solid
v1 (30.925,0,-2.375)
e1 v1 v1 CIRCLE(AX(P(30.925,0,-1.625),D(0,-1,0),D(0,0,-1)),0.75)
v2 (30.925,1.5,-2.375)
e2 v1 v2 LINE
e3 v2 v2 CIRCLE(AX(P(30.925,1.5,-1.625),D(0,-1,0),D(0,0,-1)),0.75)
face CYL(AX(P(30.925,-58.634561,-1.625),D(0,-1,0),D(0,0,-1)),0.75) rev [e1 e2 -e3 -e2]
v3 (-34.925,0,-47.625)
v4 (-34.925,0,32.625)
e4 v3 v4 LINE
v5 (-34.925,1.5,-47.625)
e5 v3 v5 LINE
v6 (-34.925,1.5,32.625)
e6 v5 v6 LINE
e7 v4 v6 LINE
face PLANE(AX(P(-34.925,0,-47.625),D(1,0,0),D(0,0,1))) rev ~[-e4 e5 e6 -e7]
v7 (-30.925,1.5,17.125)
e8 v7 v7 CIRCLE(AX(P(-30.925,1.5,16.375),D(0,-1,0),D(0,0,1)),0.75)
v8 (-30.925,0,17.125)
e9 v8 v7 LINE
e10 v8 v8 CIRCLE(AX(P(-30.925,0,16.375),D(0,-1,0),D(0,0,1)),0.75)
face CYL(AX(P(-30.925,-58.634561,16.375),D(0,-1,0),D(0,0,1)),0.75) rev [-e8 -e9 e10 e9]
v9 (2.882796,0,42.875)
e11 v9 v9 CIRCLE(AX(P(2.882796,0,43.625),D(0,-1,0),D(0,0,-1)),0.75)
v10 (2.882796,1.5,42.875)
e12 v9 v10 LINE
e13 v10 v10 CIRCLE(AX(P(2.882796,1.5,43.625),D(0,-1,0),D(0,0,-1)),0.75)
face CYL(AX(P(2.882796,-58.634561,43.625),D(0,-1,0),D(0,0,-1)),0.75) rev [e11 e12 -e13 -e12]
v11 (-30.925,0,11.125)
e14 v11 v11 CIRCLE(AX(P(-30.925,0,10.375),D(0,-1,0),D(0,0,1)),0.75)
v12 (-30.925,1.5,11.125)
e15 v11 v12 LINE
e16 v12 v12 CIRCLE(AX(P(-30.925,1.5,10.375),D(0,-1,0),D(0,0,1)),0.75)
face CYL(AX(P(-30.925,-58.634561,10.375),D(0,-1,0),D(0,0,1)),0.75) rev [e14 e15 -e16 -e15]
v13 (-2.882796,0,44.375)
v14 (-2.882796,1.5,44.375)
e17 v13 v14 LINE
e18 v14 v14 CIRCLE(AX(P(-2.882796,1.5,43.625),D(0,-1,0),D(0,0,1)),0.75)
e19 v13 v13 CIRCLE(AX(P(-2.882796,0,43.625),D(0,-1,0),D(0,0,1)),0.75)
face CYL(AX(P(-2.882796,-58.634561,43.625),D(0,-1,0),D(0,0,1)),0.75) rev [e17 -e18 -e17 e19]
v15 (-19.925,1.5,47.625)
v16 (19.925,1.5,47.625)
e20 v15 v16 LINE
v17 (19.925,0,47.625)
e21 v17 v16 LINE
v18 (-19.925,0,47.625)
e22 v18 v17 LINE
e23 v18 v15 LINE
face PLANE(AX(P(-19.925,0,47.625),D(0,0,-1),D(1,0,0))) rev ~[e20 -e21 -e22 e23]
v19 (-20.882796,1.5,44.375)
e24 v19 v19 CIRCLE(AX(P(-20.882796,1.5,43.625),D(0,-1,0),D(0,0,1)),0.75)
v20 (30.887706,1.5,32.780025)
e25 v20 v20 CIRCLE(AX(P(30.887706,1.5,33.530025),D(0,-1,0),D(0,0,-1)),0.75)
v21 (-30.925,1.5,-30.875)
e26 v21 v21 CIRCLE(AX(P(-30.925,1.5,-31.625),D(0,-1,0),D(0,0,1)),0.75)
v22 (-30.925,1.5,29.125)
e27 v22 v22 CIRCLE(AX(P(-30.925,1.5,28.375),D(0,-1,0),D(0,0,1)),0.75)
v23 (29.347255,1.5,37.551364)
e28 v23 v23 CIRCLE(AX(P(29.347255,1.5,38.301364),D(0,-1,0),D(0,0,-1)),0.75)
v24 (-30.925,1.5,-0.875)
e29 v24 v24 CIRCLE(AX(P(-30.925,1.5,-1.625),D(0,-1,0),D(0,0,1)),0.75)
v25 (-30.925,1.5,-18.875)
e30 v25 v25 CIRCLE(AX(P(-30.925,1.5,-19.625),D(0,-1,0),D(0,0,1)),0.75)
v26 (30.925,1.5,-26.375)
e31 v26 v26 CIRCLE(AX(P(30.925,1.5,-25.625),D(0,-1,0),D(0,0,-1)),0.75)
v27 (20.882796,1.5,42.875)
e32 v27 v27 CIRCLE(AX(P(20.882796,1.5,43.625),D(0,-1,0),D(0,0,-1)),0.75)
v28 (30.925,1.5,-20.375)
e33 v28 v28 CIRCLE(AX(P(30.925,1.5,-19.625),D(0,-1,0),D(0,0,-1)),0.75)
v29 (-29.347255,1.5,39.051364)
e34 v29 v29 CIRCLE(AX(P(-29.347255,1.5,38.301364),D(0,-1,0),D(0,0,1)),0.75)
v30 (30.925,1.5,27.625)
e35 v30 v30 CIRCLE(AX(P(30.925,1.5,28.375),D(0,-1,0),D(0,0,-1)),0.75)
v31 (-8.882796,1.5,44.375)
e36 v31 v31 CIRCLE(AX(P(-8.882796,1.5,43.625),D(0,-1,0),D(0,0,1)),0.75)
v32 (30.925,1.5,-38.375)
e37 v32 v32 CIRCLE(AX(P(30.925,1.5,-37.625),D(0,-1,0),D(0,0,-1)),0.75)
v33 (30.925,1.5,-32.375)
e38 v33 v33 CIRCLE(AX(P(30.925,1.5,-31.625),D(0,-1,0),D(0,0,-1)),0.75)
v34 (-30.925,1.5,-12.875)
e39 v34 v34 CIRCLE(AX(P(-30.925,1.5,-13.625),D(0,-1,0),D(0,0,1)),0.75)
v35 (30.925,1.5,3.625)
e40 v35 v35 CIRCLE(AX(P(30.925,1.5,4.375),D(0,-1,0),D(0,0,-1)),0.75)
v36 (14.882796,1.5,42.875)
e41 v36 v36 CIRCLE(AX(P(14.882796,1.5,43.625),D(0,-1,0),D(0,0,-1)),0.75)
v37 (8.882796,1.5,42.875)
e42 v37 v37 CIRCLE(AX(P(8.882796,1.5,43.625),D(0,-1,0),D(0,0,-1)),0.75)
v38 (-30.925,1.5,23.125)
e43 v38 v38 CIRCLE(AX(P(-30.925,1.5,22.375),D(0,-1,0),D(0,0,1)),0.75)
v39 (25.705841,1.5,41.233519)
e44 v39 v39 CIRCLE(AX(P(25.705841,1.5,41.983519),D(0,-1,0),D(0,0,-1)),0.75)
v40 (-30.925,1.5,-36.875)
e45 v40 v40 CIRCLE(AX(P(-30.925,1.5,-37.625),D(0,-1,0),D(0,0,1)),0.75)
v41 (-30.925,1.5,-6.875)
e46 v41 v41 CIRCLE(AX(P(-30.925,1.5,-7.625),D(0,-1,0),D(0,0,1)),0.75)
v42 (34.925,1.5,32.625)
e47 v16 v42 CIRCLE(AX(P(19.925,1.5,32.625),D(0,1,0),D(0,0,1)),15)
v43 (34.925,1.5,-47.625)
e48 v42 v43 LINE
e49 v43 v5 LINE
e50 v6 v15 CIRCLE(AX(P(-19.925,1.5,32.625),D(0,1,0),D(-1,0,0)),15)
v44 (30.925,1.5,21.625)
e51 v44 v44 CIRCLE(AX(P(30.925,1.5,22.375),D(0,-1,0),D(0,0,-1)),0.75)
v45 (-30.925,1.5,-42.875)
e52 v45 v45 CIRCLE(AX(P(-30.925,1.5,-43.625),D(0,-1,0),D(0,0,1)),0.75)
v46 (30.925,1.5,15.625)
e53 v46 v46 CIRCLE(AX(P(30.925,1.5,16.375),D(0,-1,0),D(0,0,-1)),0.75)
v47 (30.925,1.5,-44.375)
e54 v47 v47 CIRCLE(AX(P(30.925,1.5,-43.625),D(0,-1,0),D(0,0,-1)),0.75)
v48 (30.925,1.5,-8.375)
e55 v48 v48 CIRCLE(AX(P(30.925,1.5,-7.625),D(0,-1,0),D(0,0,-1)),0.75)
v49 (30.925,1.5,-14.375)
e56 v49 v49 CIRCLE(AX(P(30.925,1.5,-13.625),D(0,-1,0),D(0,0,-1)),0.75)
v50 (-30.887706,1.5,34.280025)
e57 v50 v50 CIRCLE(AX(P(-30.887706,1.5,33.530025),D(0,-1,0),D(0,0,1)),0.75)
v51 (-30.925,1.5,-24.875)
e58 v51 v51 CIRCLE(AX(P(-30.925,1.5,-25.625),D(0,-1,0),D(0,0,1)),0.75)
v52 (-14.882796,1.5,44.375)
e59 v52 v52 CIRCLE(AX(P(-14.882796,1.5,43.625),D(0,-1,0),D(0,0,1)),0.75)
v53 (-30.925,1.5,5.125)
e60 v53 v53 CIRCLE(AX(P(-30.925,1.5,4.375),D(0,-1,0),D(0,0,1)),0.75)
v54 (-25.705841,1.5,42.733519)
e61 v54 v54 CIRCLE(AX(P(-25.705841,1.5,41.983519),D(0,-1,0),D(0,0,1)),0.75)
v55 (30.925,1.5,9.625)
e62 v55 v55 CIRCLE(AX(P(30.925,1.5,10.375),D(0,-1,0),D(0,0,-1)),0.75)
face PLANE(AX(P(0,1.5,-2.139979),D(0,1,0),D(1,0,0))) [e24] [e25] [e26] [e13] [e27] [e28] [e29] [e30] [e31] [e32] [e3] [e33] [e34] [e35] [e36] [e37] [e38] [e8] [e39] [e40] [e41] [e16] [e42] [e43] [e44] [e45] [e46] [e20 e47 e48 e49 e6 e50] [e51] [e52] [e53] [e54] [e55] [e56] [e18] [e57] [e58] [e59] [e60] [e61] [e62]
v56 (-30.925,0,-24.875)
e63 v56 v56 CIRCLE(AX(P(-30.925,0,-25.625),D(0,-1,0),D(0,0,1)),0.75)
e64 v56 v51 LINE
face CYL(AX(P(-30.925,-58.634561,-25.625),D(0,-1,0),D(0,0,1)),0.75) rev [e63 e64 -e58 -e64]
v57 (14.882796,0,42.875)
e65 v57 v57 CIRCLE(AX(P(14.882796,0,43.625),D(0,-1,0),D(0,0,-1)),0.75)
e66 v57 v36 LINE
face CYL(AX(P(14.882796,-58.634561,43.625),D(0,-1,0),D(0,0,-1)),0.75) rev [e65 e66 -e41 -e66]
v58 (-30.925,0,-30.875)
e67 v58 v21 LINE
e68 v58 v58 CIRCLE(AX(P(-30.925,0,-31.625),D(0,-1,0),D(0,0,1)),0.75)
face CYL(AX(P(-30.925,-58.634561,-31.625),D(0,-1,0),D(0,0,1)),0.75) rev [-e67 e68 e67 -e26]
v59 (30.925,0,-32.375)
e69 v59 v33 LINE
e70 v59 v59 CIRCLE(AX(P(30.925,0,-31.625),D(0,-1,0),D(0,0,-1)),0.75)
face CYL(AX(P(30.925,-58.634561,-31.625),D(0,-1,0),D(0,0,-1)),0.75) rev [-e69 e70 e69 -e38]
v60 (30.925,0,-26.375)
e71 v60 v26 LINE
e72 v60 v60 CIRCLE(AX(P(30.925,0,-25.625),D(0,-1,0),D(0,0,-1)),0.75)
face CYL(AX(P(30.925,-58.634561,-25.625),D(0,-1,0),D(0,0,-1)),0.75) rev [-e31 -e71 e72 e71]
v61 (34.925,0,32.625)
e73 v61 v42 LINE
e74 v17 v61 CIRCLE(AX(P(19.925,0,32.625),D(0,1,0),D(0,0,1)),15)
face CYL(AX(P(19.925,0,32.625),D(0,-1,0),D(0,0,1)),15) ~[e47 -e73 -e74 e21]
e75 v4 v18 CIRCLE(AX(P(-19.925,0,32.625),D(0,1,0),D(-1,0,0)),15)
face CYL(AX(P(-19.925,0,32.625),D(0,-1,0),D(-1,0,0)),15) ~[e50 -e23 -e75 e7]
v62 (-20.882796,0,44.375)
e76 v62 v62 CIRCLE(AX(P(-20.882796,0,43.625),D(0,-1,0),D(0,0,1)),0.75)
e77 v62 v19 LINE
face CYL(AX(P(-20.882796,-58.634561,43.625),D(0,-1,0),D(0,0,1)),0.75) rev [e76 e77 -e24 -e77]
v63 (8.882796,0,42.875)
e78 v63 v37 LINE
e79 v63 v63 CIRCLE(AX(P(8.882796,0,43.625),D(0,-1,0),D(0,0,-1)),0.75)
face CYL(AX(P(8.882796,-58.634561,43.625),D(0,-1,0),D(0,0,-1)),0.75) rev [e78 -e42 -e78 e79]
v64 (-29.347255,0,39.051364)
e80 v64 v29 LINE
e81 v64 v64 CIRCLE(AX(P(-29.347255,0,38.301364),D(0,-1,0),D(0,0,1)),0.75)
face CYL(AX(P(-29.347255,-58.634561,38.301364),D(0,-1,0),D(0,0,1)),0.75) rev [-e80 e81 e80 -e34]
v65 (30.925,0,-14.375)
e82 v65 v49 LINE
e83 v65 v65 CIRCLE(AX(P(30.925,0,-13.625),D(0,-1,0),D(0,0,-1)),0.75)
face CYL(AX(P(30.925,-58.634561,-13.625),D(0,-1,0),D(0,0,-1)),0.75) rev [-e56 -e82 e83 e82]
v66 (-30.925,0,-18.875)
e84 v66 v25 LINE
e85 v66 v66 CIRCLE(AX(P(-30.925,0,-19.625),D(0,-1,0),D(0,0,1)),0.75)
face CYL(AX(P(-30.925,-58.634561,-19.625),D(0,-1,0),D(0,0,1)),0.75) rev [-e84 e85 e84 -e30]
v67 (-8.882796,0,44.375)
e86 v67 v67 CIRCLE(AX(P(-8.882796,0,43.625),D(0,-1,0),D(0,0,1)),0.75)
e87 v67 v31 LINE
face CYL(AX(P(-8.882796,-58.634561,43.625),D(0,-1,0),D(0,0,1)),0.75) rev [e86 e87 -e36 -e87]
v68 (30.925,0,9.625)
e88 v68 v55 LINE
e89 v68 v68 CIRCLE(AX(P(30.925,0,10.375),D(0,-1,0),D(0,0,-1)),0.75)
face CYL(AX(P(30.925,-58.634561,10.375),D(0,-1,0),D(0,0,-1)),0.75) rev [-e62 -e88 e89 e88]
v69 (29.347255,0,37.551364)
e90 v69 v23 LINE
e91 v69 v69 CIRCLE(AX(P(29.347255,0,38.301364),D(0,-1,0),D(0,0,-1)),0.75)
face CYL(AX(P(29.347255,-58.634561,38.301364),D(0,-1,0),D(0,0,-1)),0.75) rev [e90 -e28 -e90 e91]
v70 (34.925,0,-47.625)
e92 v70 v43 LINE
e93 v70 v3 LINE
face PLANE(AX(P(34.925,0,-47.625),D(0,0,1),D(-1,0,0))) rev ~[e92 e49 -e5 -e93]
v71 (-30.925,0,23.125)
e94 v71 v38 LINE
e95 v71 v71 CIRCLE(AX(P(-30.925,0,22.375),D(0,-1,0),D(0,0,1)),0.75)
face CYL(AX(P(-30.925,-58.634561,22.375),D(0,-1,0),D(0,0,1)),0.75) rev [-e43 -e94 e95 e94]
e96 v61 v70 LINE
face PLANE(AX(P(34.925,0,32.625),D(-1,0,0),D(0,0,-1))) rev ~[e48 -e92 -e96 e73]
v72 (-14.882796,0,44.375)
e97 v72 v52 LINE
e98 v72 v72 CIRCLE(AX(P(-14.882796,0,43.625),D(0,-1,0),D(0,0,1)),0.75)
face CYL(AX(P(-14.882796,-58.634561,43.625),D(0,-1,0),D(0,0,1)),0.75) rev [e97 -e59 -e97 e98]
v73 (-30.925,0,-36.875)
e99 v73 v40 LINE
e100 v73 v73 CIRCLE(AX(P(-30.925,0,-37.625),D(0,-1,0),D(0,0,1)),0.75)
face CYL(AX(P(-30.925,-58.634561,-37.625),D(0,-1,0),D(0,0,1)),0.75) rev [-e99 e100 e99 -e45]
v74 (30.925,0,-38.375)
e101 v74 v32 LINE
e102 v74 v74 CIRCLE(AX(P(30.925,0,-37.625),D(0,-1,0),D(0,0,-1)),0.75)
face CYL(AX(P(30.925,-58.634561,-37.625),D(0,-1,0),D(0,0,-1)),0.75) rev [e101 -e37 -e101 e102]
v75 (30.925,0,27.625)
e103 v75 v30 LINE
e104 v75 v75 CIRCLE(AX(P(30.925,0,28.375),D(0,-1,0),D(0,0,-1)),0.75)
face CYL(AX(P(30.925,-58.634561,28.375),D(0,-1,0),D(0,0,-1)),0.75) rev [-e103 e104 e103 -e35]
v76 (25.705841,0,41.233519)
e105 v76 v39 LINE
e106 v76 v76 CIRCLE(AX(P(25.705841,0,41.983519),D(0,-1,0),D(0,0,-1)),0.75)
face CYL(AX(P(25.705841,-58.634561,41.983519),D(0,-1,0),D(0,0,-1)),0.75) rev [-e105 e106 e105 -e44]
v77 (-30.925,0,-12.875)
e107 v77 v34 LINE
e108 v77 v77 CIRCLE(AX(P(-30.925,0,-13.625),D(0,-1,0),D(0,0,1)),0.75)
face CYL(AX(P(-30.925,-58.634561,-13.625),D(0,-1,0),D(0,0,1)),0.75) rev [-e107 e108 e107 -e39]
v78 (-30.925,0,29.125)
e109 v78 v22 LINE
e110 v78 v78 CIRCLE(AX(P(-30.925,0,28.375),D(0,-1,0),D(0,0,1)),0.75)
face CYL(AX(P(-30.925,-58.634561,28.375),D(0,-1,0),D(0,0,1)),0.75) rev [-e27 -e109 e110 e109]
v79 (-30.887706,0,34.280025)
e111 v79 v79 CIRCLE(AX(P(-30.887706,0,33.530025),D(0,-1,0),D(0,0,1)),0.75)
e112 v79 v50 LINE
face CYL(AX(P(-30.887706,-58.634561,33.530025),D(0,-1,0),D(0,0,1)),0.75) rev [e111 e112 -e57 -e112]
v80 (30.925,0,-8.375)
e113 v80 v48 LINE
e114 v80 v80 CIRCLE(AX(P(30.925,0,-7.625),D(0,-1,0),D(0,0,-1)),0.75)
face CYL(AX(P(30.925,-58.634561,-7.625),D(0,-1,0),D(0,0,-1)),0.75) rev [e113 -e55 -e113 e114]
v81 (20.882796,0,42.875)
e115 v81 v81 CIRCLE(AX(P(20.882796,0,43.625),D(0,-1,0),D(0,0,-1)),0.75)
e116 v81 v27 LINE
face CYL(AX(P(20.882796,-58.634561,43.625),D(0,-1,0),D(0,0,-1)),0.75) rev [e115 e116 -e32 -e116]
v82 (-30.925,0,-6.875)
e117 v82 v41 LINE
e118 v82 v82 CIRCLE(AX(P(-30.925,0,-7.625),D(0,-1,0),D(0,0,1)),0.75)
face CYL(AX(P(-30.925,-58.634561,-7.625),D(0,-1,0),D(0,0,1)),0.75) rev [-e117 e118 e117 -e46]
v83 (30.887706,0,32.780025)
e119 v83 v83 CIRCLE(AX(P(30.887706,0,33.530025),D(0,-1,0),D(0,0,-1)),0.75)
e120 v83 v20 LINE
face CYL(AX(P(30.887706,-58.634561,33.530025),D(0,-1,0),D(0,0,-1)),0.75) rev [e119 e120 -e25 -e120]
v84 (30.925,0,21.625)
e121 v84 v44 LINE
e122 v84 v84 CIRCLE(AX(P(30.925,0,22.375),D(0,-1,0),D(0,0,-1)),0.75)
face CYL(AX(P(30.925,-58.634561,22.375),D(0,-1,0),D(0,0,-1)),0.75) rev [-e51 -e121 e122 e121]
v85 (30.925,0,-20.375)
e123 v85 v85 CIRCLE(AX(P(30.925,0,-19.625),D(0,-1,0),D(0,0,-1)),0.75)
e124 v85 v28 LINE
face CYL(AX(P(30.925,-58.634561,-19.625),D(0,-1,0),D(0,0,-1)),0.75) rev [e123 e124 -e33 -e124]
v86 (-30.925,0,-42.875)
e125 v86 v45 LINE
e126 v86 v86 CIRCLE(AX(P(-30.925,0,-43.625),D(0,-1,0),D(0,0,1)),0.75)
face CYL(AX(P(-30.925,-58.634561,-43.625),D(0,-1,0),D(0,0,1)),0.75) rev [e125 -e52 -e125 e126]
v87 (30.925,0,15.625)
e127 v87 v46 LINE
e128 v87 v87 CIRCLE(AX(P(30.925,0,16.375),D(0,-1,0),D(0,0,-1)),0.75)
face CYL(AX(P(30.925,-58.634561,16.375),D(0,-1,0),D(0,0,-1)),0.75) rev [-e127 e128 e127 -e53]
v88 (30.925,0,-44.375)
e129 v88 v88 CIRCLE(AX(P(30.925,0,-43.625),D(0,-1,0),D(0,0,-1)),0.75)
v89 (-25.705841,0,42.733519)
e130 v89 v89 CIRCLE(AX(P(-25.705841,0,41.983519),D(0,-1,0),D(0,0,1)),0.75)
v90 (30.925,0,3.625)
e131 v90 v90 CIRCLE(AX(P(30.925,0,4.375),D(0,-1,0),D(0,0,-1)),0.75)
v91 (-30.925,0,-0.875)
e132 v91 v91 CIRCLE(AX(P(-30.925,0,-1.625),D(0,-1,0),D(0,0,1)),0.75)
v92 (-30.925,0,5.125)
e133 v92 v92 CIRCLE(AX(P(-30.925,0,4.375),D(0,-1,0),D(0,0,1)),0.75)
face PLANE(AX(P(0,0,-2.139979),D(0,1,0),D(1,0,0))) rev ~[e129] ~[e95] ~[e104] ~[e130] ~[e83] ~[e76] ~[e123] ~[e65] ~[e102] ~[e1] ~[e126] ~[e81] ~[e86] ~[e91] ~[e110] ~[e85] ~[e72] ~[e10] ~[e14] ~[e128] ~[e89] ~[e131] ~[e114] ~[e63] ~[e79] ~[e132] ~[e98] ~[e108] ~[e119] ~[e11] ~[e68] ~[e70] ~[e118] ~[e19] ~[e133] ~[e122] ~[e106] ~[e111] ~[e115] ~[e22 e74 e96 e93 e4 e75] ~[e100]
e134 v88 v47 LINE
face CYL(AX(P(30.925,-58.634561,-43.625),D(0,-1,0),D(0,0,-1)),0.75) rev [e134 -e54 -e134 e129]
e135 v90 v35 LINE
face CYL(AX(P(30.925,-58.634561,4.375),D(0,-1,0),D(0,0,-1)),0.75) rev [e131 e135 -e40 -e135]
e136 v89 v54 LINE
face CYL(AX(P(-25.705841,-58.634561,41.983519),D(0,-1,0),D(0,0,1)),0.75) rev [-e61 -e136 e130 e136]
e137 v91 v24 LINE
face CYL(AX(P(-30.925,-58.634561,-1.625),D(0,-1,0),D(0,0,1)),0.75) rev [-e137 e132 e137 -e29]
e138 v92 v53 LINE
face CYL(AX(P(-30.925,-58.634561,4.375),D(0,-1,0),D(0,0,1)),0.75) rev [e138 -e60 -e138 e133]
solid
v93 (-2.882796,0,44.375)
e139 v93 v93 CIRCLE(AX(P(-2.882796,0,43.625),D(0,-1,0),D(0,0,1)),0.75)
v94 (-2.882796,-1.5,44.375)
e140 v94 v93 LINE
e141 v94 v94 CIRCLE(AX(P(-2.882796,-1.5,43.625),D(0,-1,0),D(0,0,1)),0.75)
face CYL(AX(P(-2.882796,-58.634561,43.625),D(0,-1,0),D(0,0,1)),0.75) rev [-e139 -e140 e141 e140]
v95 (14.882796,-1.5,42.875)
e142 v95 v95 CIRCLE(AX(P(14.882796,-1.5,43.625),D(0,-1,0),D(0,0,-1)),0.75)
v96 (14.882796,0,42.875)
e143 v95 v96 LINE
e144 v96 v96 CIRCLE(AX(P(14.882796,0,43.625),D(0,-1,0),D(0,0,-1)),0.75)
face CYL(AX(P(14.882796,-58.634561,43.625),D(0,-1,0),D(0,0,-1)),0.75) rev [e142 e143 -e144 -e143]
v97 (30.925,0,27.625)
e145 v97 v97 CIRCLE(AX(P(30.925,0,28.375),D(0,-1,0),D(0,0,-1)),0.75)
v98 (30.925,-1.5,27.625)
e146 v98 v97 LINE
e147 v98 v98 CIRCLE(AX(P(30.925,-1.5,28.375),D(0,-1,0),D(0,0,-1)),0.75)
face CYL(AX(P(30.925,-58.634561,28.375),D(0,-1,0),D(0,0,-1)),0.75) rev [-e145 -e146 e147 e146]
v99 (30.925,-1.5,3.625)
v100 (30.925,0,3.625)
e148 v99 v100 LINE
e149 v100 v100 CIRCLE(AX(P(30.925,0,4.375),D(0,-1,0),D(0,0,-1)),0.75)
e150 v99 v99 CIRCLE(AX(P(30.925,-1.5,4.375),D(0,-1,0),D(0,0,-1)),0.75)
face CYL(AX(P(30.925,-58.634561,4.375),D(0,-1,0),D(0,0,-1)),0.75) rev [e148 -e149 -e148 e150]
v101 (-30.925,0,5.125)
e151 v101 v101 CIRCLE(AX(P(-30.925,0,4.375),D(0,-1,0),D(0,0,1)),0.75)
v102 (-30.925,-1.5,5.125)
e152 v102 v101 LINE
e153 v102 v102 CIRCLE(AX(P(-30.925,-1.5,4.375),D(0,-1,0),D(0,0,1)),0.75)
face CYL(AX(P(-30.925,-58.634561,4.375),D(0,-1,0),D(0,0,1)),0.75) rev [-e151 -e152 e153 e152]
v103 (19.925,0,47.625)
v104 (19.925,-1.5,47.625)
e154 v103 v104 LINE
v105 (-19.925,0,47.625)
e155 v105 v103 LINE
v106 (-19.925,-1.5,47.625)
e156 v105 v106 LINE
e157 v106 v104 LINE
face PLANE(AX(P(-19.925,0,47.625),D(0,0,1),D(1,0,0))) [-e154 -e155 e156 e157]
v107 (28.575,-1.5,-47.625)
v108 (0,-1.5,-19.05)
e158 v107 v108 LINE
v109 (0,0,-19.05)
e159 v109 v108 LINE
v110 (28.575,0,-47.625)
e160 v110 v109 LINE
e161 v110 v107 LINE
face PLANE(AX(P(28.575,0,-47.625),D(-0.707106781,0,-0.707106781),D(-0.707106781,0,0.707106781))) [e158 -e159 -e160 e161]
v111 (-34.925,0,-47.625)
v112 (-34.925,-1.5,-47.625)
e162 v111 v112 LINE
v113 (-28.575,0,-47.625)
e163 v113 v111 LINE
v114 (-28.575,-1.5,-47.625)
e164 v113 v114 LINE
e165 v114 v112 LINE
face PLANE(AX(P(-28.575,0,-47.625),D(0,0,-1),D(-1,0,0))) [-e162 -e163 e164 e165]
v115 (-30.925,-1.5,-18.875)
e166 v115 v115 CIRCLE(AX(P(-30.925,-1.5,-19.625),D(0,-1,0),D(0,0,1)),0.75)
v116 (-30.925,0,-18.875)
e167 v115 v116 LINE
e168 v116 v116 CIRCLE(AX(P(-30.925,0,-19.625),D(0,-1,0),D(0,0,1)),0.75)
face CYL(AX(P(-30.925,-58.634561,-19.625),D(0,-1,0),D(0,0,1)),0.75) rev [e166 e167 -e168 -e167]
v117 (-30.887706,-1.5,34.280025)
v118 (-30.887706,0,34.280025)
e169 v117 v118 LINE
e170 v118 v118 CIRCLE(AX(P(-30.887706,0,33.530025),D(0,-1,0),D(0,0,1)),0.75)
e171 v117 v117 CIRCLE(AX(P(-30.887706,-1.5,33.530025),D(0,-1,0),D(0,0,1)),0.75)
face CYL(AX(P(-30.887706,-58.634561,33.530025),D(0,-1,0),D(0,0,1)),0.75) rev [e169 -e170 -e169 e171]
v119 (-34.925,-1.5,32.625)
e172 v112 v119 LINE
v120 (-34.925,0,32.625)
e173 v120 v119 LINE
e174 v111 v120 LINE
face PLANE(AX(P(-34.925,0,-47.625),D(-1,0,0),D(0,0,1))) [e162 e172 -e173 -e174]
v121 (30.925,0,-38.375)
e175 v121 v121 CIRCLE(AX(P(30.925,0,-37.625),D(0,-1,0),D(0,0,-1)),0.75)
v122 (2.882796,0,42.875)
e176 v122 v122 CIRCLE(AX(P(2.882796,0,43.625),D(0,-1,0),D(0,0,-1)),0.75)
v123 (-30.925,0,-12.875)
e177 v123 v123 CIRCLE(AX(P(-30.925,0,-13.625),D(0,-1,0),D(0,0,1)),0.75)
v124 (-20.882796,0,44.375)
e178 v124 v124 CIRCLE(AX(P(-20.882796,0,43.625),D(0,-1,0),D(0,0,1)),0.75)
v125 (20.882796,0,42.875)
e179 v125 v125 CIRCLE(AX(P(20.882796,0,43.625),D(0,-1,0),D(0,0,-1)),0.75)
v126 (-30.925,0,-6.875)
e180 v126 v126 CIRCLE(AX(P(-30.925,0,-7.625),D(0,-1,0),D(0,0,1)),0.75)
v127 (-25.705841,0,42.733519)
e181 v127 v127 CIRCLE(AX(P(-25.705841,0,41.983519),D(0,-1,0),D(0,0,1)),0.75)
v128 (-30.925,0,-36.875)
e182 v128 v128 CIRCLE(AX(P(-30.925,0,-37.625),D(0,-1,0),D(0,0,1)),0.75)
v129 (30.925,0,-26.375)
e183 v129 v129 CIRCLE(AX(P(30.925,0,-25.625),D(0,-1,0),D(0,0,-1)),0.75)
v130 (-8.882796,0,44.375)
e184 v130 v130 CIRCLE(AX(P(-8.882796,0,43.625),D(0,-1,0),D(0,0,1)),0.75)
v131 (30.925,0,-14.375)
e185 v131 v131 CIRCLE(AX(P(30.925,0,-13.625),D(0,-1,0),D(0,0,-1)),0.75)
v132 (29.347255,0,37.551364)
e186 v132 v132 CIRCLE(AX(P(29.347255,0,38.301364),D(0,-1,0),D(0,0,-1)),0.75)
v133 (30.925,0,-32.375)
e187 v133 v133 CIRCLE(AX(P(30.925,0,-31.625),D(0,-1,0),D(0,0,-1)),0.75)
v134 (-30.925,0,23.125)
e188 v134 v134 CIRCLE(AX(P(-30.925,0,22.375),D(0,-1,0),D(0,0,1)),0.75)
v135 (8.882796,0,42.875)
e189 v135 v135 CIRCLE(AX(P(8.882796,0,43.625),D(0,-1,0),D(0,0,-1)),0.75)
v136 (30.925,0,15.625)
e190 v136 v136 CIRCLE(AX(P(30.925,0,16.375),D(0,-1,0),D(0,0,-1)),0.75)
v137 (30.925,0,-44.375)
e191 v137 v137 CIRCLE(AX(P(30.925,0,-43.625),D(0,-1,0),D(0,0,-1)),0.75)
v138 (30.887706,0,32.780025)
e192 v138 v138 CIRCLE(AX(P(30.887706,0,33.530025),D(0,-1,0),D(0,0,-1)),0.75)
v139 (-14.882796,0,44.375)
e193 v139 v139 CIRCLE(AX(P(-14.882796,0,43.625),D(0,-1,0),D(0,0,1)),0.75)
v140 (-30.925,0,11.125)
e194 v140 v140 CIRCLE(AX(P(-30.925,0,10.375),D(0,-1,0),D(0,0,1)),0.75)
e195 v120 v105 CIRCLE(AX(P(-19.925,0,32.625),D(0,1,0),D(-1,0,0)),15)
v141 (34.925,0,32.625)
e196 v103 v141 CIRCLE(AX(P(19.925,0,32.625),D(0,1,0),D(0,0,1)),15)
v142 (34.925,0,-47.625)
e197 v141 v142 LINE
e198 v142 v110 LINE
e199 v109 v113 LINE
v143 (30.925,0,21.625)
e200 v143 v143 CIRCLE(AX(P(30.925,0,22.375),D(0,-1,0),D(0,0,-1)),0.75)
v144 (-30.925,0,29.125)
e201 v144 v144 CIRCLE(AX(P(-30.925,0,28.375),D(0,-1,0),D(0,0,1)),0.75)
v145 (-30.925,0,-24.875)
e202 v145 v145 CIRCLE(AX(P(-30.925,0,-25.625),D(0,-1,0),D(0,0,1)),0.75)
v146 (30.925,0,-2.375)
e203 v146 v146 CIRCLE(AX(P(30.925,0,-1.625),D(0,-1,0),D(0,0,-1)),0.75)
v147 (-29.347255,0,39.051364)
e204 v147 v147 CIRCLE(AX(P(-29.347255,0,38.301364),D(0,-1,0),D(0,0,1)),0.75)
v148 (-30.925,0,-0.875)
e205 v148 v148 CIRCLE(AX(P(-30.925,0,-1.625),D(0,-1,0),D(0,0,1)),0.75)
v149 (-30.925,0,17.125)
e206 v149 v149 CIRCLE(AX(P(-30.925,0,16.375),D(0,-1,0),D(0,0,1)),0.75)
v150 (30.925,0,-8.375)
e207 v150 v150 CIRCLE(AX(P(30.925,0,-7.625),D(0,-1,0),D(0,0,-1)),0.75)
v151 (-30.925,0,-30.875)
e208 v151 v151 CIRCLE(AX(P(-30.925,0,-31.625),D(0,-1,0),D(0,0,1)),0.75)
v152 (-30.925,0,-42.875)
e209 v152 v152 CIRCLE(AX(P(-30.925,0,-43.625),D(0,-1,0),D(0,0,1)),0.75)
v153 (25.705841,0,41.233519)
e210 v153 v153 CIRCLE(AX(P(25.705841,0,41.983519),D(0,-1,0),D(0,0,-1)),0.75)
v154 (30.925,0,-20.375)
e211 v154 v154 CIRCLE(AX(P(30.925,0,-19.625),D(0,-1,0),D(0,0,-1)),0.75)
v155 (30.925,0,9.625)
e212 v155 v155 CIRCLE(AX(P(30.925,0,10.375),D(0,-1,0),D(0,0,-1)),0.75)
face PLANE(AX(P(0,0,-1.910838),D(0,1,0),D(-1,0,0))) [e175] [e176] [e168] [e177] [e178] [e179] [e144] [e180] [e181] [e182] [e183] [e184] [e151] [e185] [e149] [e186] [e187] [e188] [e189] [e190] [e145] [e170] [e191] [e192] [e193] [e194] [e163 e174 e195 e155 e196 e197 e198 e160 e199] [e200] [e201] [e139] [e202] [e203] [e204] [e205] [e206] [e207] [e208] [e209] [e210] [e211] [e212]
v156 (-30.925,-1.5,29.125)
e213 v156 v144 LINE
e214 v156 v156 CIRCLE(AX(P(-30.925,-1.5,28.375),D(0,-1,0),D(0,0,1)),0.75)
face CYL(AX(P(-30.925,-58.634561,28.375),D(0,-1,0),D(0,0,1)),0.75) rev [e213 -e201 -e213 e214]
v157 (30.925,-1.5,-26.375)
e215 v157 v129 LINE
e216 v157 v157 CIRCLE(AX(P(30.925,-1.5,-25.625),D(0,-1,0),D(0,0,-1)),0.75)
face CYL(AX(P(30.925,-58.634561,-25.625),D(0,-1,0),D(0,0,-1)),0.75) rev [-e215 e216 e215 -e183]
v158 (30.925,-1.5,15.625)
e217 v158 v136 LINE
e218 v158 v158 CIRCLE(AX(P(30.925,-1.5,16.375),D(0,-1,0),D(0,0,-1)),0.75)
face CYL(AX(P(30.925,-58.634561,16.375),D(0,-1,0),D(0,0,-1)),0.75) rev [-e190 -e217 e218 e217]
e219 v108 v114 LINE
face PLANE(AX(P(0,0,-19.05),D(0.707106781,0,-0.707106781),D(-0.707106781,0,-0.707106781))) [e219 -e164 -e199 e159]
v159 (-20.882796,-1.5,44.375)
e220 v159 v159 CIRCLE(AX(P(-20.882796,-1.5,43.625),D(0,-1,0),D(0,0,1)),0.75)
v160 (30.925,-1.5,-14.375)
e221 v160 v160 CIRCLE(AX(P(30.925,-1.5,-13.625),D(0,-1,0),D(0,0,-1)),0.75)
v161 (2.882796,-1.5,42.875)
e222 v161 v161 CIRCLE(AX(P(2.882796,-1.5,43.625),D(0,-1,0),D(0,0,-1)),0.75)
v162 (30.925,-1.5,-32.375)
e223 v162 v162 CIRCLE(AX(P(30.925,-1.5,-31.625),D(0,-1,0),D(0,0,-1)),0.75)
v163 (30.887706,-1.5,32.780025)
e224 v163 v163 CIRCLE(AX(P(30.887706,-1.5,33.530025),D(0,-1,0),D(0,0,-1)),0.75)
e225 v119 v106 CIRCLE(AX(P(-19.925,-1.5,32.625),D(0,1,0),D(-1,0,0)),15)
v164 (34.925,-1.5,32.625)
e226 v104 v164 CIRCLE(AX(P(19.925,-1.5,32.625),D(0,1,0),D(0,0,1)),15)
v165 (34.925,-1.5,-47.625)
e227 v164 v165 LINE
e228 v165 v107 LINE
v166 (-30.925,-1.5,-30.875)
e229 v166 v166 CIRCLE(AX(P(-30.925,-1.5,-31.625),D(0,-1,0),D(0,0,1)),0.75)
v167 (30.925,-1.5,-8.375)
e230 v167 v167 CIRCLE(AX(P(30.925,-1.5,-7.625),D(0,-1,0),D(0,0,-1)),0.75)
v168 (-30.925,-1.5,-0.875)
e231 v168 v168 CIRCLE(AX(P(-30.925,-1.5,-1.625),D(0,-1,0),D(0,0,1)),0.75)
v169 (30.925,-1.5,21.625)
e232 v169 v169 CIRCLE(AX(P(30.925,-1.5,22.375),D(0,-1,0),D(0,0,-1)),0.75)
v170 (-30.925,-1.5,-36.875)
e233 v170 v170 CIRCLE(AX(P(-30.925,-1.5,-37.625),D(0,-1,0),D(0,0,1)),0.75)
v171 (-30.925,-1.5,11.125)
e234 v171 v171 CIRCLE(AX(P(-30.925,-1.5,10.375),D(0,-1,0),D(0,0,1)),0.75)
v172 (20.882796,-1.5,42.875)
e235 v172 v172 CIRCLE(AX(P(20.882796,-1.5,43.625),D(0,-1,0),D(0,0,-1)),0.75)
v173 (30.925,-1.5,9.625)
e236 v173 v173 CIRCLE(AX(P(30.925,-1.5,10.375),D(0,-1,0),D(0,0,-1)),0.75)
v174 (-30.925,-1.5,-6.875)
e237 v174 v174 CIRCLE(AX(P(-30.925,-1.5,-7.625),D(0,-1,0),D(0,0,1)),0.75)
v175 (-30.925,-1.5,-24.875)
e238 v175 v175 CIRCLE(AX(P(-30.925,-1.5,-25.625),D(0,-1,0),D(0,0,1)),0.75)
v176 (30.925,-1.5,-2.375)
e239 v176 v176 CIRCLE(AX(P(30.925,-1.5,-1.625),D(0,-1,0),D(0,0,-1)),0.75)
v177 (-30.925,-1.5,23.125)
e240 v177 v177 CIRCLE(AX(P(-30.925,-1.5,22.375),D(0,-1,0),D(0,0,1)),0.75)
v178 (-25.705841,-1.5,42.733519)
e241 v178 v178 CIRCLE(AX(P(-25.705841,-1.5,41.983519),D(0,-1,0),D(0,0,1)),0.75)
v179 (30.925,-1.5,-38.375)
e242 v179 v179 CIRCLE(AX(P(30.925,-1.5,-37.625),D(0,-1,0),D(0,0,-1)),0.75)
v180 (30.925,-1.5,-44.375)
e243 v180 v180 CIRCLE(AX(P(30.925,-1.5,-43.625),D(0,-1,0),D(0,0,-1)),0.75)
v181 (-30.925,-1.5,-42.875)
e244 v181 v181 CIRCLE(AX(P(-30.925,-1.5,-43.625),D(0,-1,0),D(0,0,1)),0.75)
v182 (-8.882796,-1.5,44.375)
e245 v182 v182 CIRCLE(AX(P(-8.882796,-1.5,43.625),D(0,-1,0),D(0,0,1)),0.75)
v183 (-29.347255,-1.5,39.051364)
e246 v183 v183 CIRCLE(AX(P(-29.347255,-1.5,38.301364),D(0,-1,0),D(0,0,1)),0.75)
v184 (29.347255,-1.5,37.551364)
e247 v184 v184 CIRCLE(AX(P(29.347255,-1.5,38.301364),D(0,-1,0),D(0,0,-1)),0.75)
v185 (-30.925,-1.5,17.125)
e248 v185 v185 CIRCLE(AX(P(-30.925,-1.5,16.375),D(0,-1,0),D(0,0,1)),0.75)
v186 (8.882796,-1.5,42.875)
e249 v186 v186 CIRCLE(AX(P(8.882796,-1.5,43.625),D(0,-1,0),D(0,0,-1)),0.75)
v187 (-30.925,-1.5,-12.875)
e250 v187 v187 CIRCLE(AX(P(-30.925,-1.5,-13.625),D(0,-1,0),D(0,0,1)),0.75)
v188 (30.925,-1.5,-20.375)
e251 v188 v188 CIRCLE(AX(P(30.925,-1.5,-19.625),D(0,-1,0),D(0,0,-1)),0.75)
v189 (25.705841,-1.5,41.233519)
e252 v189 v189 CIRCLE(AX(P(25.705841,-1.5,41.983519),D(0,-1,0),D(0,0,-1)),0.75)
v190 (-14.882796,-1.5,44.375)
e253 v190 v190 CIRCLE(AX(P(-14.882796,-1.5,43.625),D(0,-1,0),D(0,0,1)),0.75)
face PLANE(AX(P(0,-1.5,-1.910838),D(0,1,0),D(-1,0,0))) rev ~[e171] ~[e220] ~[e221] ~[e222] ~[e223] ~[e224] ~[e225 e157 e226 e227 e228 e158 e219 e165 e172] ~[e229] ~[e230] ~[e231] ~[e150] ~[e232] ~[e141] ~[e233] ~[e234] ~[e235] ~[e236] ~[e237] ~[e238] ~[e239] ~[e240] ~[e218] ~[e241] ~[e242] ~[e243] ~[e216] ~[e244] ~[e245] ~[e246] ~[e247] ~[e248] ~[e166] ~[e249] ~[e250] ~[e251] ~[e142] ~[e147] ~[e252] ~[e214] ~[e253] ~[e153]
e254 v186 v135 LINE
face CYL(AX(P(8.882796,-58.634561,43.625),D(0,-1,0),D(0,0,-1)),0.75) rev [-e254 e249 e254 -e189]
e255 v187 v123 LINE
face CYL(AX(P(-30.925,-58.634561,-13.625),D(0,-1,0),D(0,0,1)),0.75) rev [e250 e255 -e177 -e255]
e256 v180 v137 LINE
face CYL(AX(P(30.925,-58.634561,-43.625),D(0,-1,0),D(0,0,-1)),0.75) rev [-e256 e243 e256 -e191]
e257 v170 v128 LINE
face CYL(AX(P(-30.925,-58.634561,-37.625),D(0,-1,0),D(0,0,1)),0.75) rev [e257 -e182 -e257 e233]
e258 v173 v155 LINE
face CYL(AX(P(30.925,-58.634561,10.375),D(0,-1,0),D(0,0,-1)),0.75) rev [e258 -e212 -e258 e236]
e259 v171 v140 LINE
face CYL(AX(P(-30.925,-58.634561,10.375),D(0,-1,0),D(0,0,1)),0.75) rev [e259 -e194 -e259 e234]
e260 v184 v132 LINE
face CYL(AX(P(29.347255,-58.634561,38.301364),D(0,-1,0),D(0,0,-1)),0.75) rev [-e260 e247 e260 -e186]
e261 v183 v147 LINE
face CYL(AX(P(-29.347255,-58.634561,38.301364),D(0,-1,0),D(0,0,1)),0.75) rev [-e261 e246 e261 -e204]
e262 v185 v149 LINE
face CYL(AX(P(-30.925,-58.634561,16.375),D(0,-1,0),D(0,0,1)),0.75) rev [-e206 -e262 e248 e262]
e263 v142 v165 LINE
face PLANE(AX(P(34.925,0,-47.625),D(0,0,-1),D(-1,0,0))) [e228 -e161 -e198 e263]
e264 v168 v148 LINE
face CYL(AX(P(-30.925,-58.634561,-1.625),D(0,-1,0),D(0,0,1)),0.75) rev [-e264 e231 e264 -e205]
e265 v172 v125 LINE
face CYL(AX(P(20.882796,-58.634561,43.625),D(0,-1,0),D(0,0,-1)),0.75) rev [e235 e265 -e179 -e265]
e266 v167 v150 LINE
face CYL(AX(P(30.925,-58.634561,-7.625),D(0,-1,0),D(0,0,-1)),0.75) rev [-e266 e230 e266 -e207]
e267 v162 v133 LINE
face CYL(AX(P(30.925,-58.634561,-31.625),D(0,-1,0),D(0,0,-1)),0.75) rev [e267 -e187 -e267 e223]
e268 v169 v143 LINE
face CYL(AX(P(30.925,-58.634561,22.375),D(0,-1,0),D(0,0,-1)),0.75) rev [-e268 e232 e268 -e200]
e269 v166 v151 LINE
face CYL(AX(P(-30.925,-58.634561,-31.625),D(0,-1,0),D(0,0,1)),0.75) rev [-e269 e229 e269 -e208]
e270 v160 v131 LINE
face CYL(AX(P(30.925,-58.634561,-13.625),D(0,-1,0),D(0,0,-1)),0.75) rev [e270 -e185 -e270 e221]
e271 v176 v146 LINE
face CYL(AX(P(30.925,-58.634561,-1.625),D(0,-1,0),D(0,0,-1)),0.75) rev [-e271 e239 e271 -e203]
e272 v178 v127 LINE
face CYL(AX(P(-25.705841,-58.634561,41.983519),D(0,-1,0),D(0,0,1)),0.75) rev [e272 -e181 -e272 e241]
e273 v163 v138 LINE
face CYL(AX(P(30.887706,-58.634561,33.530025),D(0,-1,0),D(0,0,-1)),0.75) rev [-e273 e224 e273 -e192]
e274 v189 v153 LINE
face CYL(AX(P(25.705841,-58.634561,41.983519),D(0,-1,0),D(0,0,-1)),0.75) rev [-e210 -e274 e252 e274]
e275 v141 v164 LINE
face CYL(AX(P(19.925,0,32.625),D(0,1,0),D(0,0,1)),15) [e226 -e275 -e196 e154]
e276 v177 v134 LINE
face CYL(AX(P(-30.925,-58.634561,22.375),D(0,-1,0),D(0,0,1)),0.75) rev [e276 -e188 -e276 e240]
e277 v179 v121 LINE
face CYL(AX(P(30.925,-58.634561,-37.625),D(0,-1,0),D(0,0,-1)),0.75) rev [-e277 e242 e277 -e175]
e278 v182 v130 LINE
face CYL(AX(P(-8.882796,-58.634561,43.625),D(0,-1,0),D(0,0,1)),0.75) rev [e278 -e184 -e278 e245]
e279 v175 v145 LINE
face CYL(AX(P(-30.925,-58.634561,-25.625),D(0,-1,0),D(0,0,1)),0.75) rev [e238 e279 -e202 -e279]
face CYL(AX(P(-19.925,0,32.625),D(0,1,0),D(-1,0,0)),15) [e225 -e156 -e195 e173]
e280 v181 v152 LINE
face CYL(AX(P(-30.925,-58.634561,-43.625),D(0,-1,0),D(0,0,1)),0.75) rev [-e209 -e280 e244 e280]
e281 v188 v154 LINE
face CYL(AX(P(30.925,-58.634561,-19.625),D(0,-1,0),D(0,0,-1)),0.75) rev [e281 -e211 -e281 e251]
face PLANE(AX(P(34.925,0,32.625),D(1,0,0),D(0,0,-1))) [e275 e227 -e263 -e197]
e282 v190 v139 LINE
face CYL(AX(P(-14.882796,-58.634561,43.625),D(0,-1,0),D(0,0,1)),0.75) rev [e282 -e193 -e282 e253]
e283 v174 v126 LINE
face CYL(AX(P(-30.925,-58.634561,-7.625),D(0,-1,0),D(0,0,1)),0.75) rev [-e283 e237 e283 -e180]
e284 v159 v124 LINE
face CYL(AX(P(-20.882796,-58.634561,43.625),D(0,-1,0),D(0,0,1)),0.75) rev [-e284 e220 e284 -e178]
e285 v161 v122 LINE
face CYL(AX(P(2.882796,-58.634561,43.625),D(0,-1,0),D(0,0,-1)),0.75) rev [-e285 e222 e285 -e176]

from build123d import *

# Parameters (mm, degrees)
FRONT_PANEL_DEPTH       = 1.5
BACK_PANEL_DEPTH        = 1.5
CUT_EXTRUDE1_DEPTH      = 60.134560538
CUT_EXTRUDE1_DEPTH_BACK = 60.134560538
SKETCH5_R               = 0.75


with BuildPart() as part:
    # Sketch1 → front panel (new body)
    with BuildSketch(Plane(origin=(0, 0, 0), x_dir=(1, 0, 0), z_dir=(0, 1, 0))):
        with BuildLine():
            Line((-19.925, -47.625), (19.925, -47.625))
            ThreePointArc((19.925, -47.625), (30.531601718, -43.231601718), (34.925, -32.625))
            Line((34.925, -32.625), (34.925, 47.625))
            Line((34.925, 47.625), (-34.925, 47.625))
            Line((-34.925, 47.625), (-34.925, -32.625))
            ThreePointArc((-34.925, -32.625), (-30.531601718, -43.231601718), (-19.925, -47.625))
        make_face()
    extrude(amount=FRONT_PANEL_DEPTH)


with BuildPart() as body_2:
    # Sketch3 → back panel (new body)
    with BuildSketch(Plane.XZ):
        with BuildLine():
            Line((34.925, -47.625), (28.575, -47.625))
            Line((28.575, -47.625), (0, -19.05))
            Line((0, -19.05), (-28.575, -47.625))
            Line((-28.575, -47.625), (-34.925, -47.625))
            Line((-34.925, -47.625), (-34.925, 32.625))
            ThreePointArc((-34.925, 32.625), (-30.531601718, 43.231601718), (-19.925, 47.625))
            Line((-19.925, 47.625), (19.925, 47.625))
            ThreePointArc((19.925, 47.625), (30.531601718, 43.231601718), (34.925, 32.625))
            Line((34.925, 32.625), (34.925, -47.625))
        make_face()
    extrude(amount=BACK_PANEL_DEPTH)


with BuildPart() as cut_extrude1_tool:
    # Sketch5 → Cut-Extrude1 (new, two sides: drawn at the far end of the back side and taken through both)
    with BuildSketch(Plane(origin=(0, 1.5, 0), x_dir=(1, 0, 0), z_dir=(0, 1, 0)).offset(-CUT_EXTRUDE1_DEPTH_BACK)):
        with Locations(Location((-30.925, 43.625, 0), (0, 0, 270))):
            Circle(SKETCH5_R)
        with Locations(Location((-30.925, 37.625, 0), (0, 0, 270))):
            Circle(SKETCH5_R)
        with Locations(Location((-30.925, 31.625, 0), (0, 0, 270))):
            Circle(SKETCH5_R)
        with Locations(Location((-30.925, 25.625, 0), (0, 0, 270))):
            Circle(SKETCH5_R)
        with Locations(Location((-30.925, 19.625, 0), (0, 0, 270))):
            Circle(SKETCH5_R)
        with Locations(Location((-30.925, 13.625, 0), (0, 0, 270))):
            Circle(SKETCH5_R)
        with Locations(Location((-30.925, 7.625, 0), (0, 0, 270))):
            Circle(SKETCH5_R)
        with Locations(Location((-30.925, 1.625, 0), (0, 0, 270))):
            Circle(SKETCH5_R)
        with Locations(Location((-30.925, -4.375, 0), (0, 0, 270))):
            Circle(SKETCH5_R)
        with Locations(Location((-30.925, -10.375, 0), (0, 0, 270))):
            Circle(SKETCH5_R)
        with Locations(Location((-30.925, -16.375, 0), (0, 0, 270))):
            Circle(SKETCH5_R)
        with Locations(Location((-30.925, -22.375, 0), (0, 0, 270))):
            Circle(SKETCH5_R)
        with Locations(Location((-30.925, -28.375, 0), (0, 0, 270))):
            Circle(SKETCH5_R)
        with Locations(Location((-30.887706281, -33.530025412, 0), (0, 0, 270))):
            Circle(SKETCH5_R)
        with Locations(Location((-29.347254895, -38.30136439, 0), (0, 0, 270))):
            Circle(SKETCH5_R)
        with Locations(Location((-25.705841038, -41.983518948, 0), (0, 0, 270))):
            Circle(SKETCH5_R)
        with Locations(Location((-2.882796486, -43.625, 0), (0, 0, 270))):
            Circle(SKETCH5_R)
        with Locations(Location((-8.882796486, -43.625, 0), (0, 0, 270))):
            Circle(SKETCH5_R)
        with Locations(Location((-14.882796486, -43.625, 0), (0, 0, 270))):
            Circle(SKETCH5_R)
        with Locations(Location((-20.882796486, -43.625, 0), (0, 0, 270))):
            Circle(SKETCH5_R)
        with Locations(Location((20.882796486, -43.625, 0), (0, 0, 90))):
            Circle(SKETCH5_R)
        with Locations(Location((14.882796486, -43.625, 0), (0, 0, 90))):
            Circle(SKETCH5_R)
        with Locations(Location((8.882796486, -43.625, 0), (0, 0, 90))):
            Circle(SKETCH5_R)
        with Locations(Location((2.882796486, -43.625, 0), (0, 0, 90))):
            Circle(SKETCH5_R)
        with Locations(Location((25.705841038, -41.983518948, 0), (0, 0, 90))):
            Circle(SKETCH5_R)
        with Locations(Location((29.347254895, -38.30136439, 0), (0, 0, 90))):
            Circle(SKETCH5_R)
        with Locations(Location((30.887706281, -33.530025412, 0), (0, 0, 90))):
            Circle(SKETCH5_R)
        with Locations(Location((30.925, -28.375, 0), (0, 0, 90))):
            Circle(SKETCH5_R)
        with Locations(Location((30.925, -22.375, 0), (0, 0, 90))):
            Circle(SKETCH5_R)
        with Locations(Location((30.925, -16.375, 0), (0, 0, 90))):
            Circle(SKETCH5_R)
        with Locations(Location((30.925, -10.375, 0), (0, 0, 90))):
            Circle(SKETCH5_R)
        with Locations(Location((30.925, -4.375, 0), (0, 0, 90))):
            Circle(SKETCH5_R)
        with Locations(Location((30.925, 1.625, 0), (0, 0, 90))):
            Circle(SKETCH5_R)
        with Locations(Location((30.925, 7.625, 0), (0, 0, 90))):
            Circle(SKETCH5_R)
        with Locations(Location((30.925, 13.625, 0), (0, 0, 90))):
            Circle(SKETCH5_R)
        with Locations(Location((30.925, 19.625, 0), (0, 0, 90))):
            Circle(SKETCH5_R)
        with Locations(Location((30.925, 25.625, 0), (0, 0, 90))):
            Circle(SKETCH5_R)
        with Locations(Location((30.925, 31.625, 0), (0, 0, 90))):
            Circle(SKETCH5_R)
        with Locations(Location((30.925, 37.625, 0), (0, 0, 90))):
            Circle(SKETCH5_R)
        with Locations(Location((30.925, 43.625, 0), (0, 0, 90))):
            Circle(SKETCH5_R)
    extrude(amount=CUT_EXTRUDE1_DEPTH + CUT_EXTRUDE1_DEPTH_BACK)


with BuildPart() as part_1:
    add(part.part)

    # Cut-Extrude1: cut by cut_extrude1_tool
    add(cut_extrude1_tool.part, mode=Mode.SUBTRACT)


with BuildPart() as body_2_1:
    add(body_2.part)

    # Cut-Extrude1: cut by cut_extrude1_tool
    add(cut_extrude1_tool.part, mode=Mode.SUBTRACT)


solid = Compound([part_1.part, body_2_1.part])
